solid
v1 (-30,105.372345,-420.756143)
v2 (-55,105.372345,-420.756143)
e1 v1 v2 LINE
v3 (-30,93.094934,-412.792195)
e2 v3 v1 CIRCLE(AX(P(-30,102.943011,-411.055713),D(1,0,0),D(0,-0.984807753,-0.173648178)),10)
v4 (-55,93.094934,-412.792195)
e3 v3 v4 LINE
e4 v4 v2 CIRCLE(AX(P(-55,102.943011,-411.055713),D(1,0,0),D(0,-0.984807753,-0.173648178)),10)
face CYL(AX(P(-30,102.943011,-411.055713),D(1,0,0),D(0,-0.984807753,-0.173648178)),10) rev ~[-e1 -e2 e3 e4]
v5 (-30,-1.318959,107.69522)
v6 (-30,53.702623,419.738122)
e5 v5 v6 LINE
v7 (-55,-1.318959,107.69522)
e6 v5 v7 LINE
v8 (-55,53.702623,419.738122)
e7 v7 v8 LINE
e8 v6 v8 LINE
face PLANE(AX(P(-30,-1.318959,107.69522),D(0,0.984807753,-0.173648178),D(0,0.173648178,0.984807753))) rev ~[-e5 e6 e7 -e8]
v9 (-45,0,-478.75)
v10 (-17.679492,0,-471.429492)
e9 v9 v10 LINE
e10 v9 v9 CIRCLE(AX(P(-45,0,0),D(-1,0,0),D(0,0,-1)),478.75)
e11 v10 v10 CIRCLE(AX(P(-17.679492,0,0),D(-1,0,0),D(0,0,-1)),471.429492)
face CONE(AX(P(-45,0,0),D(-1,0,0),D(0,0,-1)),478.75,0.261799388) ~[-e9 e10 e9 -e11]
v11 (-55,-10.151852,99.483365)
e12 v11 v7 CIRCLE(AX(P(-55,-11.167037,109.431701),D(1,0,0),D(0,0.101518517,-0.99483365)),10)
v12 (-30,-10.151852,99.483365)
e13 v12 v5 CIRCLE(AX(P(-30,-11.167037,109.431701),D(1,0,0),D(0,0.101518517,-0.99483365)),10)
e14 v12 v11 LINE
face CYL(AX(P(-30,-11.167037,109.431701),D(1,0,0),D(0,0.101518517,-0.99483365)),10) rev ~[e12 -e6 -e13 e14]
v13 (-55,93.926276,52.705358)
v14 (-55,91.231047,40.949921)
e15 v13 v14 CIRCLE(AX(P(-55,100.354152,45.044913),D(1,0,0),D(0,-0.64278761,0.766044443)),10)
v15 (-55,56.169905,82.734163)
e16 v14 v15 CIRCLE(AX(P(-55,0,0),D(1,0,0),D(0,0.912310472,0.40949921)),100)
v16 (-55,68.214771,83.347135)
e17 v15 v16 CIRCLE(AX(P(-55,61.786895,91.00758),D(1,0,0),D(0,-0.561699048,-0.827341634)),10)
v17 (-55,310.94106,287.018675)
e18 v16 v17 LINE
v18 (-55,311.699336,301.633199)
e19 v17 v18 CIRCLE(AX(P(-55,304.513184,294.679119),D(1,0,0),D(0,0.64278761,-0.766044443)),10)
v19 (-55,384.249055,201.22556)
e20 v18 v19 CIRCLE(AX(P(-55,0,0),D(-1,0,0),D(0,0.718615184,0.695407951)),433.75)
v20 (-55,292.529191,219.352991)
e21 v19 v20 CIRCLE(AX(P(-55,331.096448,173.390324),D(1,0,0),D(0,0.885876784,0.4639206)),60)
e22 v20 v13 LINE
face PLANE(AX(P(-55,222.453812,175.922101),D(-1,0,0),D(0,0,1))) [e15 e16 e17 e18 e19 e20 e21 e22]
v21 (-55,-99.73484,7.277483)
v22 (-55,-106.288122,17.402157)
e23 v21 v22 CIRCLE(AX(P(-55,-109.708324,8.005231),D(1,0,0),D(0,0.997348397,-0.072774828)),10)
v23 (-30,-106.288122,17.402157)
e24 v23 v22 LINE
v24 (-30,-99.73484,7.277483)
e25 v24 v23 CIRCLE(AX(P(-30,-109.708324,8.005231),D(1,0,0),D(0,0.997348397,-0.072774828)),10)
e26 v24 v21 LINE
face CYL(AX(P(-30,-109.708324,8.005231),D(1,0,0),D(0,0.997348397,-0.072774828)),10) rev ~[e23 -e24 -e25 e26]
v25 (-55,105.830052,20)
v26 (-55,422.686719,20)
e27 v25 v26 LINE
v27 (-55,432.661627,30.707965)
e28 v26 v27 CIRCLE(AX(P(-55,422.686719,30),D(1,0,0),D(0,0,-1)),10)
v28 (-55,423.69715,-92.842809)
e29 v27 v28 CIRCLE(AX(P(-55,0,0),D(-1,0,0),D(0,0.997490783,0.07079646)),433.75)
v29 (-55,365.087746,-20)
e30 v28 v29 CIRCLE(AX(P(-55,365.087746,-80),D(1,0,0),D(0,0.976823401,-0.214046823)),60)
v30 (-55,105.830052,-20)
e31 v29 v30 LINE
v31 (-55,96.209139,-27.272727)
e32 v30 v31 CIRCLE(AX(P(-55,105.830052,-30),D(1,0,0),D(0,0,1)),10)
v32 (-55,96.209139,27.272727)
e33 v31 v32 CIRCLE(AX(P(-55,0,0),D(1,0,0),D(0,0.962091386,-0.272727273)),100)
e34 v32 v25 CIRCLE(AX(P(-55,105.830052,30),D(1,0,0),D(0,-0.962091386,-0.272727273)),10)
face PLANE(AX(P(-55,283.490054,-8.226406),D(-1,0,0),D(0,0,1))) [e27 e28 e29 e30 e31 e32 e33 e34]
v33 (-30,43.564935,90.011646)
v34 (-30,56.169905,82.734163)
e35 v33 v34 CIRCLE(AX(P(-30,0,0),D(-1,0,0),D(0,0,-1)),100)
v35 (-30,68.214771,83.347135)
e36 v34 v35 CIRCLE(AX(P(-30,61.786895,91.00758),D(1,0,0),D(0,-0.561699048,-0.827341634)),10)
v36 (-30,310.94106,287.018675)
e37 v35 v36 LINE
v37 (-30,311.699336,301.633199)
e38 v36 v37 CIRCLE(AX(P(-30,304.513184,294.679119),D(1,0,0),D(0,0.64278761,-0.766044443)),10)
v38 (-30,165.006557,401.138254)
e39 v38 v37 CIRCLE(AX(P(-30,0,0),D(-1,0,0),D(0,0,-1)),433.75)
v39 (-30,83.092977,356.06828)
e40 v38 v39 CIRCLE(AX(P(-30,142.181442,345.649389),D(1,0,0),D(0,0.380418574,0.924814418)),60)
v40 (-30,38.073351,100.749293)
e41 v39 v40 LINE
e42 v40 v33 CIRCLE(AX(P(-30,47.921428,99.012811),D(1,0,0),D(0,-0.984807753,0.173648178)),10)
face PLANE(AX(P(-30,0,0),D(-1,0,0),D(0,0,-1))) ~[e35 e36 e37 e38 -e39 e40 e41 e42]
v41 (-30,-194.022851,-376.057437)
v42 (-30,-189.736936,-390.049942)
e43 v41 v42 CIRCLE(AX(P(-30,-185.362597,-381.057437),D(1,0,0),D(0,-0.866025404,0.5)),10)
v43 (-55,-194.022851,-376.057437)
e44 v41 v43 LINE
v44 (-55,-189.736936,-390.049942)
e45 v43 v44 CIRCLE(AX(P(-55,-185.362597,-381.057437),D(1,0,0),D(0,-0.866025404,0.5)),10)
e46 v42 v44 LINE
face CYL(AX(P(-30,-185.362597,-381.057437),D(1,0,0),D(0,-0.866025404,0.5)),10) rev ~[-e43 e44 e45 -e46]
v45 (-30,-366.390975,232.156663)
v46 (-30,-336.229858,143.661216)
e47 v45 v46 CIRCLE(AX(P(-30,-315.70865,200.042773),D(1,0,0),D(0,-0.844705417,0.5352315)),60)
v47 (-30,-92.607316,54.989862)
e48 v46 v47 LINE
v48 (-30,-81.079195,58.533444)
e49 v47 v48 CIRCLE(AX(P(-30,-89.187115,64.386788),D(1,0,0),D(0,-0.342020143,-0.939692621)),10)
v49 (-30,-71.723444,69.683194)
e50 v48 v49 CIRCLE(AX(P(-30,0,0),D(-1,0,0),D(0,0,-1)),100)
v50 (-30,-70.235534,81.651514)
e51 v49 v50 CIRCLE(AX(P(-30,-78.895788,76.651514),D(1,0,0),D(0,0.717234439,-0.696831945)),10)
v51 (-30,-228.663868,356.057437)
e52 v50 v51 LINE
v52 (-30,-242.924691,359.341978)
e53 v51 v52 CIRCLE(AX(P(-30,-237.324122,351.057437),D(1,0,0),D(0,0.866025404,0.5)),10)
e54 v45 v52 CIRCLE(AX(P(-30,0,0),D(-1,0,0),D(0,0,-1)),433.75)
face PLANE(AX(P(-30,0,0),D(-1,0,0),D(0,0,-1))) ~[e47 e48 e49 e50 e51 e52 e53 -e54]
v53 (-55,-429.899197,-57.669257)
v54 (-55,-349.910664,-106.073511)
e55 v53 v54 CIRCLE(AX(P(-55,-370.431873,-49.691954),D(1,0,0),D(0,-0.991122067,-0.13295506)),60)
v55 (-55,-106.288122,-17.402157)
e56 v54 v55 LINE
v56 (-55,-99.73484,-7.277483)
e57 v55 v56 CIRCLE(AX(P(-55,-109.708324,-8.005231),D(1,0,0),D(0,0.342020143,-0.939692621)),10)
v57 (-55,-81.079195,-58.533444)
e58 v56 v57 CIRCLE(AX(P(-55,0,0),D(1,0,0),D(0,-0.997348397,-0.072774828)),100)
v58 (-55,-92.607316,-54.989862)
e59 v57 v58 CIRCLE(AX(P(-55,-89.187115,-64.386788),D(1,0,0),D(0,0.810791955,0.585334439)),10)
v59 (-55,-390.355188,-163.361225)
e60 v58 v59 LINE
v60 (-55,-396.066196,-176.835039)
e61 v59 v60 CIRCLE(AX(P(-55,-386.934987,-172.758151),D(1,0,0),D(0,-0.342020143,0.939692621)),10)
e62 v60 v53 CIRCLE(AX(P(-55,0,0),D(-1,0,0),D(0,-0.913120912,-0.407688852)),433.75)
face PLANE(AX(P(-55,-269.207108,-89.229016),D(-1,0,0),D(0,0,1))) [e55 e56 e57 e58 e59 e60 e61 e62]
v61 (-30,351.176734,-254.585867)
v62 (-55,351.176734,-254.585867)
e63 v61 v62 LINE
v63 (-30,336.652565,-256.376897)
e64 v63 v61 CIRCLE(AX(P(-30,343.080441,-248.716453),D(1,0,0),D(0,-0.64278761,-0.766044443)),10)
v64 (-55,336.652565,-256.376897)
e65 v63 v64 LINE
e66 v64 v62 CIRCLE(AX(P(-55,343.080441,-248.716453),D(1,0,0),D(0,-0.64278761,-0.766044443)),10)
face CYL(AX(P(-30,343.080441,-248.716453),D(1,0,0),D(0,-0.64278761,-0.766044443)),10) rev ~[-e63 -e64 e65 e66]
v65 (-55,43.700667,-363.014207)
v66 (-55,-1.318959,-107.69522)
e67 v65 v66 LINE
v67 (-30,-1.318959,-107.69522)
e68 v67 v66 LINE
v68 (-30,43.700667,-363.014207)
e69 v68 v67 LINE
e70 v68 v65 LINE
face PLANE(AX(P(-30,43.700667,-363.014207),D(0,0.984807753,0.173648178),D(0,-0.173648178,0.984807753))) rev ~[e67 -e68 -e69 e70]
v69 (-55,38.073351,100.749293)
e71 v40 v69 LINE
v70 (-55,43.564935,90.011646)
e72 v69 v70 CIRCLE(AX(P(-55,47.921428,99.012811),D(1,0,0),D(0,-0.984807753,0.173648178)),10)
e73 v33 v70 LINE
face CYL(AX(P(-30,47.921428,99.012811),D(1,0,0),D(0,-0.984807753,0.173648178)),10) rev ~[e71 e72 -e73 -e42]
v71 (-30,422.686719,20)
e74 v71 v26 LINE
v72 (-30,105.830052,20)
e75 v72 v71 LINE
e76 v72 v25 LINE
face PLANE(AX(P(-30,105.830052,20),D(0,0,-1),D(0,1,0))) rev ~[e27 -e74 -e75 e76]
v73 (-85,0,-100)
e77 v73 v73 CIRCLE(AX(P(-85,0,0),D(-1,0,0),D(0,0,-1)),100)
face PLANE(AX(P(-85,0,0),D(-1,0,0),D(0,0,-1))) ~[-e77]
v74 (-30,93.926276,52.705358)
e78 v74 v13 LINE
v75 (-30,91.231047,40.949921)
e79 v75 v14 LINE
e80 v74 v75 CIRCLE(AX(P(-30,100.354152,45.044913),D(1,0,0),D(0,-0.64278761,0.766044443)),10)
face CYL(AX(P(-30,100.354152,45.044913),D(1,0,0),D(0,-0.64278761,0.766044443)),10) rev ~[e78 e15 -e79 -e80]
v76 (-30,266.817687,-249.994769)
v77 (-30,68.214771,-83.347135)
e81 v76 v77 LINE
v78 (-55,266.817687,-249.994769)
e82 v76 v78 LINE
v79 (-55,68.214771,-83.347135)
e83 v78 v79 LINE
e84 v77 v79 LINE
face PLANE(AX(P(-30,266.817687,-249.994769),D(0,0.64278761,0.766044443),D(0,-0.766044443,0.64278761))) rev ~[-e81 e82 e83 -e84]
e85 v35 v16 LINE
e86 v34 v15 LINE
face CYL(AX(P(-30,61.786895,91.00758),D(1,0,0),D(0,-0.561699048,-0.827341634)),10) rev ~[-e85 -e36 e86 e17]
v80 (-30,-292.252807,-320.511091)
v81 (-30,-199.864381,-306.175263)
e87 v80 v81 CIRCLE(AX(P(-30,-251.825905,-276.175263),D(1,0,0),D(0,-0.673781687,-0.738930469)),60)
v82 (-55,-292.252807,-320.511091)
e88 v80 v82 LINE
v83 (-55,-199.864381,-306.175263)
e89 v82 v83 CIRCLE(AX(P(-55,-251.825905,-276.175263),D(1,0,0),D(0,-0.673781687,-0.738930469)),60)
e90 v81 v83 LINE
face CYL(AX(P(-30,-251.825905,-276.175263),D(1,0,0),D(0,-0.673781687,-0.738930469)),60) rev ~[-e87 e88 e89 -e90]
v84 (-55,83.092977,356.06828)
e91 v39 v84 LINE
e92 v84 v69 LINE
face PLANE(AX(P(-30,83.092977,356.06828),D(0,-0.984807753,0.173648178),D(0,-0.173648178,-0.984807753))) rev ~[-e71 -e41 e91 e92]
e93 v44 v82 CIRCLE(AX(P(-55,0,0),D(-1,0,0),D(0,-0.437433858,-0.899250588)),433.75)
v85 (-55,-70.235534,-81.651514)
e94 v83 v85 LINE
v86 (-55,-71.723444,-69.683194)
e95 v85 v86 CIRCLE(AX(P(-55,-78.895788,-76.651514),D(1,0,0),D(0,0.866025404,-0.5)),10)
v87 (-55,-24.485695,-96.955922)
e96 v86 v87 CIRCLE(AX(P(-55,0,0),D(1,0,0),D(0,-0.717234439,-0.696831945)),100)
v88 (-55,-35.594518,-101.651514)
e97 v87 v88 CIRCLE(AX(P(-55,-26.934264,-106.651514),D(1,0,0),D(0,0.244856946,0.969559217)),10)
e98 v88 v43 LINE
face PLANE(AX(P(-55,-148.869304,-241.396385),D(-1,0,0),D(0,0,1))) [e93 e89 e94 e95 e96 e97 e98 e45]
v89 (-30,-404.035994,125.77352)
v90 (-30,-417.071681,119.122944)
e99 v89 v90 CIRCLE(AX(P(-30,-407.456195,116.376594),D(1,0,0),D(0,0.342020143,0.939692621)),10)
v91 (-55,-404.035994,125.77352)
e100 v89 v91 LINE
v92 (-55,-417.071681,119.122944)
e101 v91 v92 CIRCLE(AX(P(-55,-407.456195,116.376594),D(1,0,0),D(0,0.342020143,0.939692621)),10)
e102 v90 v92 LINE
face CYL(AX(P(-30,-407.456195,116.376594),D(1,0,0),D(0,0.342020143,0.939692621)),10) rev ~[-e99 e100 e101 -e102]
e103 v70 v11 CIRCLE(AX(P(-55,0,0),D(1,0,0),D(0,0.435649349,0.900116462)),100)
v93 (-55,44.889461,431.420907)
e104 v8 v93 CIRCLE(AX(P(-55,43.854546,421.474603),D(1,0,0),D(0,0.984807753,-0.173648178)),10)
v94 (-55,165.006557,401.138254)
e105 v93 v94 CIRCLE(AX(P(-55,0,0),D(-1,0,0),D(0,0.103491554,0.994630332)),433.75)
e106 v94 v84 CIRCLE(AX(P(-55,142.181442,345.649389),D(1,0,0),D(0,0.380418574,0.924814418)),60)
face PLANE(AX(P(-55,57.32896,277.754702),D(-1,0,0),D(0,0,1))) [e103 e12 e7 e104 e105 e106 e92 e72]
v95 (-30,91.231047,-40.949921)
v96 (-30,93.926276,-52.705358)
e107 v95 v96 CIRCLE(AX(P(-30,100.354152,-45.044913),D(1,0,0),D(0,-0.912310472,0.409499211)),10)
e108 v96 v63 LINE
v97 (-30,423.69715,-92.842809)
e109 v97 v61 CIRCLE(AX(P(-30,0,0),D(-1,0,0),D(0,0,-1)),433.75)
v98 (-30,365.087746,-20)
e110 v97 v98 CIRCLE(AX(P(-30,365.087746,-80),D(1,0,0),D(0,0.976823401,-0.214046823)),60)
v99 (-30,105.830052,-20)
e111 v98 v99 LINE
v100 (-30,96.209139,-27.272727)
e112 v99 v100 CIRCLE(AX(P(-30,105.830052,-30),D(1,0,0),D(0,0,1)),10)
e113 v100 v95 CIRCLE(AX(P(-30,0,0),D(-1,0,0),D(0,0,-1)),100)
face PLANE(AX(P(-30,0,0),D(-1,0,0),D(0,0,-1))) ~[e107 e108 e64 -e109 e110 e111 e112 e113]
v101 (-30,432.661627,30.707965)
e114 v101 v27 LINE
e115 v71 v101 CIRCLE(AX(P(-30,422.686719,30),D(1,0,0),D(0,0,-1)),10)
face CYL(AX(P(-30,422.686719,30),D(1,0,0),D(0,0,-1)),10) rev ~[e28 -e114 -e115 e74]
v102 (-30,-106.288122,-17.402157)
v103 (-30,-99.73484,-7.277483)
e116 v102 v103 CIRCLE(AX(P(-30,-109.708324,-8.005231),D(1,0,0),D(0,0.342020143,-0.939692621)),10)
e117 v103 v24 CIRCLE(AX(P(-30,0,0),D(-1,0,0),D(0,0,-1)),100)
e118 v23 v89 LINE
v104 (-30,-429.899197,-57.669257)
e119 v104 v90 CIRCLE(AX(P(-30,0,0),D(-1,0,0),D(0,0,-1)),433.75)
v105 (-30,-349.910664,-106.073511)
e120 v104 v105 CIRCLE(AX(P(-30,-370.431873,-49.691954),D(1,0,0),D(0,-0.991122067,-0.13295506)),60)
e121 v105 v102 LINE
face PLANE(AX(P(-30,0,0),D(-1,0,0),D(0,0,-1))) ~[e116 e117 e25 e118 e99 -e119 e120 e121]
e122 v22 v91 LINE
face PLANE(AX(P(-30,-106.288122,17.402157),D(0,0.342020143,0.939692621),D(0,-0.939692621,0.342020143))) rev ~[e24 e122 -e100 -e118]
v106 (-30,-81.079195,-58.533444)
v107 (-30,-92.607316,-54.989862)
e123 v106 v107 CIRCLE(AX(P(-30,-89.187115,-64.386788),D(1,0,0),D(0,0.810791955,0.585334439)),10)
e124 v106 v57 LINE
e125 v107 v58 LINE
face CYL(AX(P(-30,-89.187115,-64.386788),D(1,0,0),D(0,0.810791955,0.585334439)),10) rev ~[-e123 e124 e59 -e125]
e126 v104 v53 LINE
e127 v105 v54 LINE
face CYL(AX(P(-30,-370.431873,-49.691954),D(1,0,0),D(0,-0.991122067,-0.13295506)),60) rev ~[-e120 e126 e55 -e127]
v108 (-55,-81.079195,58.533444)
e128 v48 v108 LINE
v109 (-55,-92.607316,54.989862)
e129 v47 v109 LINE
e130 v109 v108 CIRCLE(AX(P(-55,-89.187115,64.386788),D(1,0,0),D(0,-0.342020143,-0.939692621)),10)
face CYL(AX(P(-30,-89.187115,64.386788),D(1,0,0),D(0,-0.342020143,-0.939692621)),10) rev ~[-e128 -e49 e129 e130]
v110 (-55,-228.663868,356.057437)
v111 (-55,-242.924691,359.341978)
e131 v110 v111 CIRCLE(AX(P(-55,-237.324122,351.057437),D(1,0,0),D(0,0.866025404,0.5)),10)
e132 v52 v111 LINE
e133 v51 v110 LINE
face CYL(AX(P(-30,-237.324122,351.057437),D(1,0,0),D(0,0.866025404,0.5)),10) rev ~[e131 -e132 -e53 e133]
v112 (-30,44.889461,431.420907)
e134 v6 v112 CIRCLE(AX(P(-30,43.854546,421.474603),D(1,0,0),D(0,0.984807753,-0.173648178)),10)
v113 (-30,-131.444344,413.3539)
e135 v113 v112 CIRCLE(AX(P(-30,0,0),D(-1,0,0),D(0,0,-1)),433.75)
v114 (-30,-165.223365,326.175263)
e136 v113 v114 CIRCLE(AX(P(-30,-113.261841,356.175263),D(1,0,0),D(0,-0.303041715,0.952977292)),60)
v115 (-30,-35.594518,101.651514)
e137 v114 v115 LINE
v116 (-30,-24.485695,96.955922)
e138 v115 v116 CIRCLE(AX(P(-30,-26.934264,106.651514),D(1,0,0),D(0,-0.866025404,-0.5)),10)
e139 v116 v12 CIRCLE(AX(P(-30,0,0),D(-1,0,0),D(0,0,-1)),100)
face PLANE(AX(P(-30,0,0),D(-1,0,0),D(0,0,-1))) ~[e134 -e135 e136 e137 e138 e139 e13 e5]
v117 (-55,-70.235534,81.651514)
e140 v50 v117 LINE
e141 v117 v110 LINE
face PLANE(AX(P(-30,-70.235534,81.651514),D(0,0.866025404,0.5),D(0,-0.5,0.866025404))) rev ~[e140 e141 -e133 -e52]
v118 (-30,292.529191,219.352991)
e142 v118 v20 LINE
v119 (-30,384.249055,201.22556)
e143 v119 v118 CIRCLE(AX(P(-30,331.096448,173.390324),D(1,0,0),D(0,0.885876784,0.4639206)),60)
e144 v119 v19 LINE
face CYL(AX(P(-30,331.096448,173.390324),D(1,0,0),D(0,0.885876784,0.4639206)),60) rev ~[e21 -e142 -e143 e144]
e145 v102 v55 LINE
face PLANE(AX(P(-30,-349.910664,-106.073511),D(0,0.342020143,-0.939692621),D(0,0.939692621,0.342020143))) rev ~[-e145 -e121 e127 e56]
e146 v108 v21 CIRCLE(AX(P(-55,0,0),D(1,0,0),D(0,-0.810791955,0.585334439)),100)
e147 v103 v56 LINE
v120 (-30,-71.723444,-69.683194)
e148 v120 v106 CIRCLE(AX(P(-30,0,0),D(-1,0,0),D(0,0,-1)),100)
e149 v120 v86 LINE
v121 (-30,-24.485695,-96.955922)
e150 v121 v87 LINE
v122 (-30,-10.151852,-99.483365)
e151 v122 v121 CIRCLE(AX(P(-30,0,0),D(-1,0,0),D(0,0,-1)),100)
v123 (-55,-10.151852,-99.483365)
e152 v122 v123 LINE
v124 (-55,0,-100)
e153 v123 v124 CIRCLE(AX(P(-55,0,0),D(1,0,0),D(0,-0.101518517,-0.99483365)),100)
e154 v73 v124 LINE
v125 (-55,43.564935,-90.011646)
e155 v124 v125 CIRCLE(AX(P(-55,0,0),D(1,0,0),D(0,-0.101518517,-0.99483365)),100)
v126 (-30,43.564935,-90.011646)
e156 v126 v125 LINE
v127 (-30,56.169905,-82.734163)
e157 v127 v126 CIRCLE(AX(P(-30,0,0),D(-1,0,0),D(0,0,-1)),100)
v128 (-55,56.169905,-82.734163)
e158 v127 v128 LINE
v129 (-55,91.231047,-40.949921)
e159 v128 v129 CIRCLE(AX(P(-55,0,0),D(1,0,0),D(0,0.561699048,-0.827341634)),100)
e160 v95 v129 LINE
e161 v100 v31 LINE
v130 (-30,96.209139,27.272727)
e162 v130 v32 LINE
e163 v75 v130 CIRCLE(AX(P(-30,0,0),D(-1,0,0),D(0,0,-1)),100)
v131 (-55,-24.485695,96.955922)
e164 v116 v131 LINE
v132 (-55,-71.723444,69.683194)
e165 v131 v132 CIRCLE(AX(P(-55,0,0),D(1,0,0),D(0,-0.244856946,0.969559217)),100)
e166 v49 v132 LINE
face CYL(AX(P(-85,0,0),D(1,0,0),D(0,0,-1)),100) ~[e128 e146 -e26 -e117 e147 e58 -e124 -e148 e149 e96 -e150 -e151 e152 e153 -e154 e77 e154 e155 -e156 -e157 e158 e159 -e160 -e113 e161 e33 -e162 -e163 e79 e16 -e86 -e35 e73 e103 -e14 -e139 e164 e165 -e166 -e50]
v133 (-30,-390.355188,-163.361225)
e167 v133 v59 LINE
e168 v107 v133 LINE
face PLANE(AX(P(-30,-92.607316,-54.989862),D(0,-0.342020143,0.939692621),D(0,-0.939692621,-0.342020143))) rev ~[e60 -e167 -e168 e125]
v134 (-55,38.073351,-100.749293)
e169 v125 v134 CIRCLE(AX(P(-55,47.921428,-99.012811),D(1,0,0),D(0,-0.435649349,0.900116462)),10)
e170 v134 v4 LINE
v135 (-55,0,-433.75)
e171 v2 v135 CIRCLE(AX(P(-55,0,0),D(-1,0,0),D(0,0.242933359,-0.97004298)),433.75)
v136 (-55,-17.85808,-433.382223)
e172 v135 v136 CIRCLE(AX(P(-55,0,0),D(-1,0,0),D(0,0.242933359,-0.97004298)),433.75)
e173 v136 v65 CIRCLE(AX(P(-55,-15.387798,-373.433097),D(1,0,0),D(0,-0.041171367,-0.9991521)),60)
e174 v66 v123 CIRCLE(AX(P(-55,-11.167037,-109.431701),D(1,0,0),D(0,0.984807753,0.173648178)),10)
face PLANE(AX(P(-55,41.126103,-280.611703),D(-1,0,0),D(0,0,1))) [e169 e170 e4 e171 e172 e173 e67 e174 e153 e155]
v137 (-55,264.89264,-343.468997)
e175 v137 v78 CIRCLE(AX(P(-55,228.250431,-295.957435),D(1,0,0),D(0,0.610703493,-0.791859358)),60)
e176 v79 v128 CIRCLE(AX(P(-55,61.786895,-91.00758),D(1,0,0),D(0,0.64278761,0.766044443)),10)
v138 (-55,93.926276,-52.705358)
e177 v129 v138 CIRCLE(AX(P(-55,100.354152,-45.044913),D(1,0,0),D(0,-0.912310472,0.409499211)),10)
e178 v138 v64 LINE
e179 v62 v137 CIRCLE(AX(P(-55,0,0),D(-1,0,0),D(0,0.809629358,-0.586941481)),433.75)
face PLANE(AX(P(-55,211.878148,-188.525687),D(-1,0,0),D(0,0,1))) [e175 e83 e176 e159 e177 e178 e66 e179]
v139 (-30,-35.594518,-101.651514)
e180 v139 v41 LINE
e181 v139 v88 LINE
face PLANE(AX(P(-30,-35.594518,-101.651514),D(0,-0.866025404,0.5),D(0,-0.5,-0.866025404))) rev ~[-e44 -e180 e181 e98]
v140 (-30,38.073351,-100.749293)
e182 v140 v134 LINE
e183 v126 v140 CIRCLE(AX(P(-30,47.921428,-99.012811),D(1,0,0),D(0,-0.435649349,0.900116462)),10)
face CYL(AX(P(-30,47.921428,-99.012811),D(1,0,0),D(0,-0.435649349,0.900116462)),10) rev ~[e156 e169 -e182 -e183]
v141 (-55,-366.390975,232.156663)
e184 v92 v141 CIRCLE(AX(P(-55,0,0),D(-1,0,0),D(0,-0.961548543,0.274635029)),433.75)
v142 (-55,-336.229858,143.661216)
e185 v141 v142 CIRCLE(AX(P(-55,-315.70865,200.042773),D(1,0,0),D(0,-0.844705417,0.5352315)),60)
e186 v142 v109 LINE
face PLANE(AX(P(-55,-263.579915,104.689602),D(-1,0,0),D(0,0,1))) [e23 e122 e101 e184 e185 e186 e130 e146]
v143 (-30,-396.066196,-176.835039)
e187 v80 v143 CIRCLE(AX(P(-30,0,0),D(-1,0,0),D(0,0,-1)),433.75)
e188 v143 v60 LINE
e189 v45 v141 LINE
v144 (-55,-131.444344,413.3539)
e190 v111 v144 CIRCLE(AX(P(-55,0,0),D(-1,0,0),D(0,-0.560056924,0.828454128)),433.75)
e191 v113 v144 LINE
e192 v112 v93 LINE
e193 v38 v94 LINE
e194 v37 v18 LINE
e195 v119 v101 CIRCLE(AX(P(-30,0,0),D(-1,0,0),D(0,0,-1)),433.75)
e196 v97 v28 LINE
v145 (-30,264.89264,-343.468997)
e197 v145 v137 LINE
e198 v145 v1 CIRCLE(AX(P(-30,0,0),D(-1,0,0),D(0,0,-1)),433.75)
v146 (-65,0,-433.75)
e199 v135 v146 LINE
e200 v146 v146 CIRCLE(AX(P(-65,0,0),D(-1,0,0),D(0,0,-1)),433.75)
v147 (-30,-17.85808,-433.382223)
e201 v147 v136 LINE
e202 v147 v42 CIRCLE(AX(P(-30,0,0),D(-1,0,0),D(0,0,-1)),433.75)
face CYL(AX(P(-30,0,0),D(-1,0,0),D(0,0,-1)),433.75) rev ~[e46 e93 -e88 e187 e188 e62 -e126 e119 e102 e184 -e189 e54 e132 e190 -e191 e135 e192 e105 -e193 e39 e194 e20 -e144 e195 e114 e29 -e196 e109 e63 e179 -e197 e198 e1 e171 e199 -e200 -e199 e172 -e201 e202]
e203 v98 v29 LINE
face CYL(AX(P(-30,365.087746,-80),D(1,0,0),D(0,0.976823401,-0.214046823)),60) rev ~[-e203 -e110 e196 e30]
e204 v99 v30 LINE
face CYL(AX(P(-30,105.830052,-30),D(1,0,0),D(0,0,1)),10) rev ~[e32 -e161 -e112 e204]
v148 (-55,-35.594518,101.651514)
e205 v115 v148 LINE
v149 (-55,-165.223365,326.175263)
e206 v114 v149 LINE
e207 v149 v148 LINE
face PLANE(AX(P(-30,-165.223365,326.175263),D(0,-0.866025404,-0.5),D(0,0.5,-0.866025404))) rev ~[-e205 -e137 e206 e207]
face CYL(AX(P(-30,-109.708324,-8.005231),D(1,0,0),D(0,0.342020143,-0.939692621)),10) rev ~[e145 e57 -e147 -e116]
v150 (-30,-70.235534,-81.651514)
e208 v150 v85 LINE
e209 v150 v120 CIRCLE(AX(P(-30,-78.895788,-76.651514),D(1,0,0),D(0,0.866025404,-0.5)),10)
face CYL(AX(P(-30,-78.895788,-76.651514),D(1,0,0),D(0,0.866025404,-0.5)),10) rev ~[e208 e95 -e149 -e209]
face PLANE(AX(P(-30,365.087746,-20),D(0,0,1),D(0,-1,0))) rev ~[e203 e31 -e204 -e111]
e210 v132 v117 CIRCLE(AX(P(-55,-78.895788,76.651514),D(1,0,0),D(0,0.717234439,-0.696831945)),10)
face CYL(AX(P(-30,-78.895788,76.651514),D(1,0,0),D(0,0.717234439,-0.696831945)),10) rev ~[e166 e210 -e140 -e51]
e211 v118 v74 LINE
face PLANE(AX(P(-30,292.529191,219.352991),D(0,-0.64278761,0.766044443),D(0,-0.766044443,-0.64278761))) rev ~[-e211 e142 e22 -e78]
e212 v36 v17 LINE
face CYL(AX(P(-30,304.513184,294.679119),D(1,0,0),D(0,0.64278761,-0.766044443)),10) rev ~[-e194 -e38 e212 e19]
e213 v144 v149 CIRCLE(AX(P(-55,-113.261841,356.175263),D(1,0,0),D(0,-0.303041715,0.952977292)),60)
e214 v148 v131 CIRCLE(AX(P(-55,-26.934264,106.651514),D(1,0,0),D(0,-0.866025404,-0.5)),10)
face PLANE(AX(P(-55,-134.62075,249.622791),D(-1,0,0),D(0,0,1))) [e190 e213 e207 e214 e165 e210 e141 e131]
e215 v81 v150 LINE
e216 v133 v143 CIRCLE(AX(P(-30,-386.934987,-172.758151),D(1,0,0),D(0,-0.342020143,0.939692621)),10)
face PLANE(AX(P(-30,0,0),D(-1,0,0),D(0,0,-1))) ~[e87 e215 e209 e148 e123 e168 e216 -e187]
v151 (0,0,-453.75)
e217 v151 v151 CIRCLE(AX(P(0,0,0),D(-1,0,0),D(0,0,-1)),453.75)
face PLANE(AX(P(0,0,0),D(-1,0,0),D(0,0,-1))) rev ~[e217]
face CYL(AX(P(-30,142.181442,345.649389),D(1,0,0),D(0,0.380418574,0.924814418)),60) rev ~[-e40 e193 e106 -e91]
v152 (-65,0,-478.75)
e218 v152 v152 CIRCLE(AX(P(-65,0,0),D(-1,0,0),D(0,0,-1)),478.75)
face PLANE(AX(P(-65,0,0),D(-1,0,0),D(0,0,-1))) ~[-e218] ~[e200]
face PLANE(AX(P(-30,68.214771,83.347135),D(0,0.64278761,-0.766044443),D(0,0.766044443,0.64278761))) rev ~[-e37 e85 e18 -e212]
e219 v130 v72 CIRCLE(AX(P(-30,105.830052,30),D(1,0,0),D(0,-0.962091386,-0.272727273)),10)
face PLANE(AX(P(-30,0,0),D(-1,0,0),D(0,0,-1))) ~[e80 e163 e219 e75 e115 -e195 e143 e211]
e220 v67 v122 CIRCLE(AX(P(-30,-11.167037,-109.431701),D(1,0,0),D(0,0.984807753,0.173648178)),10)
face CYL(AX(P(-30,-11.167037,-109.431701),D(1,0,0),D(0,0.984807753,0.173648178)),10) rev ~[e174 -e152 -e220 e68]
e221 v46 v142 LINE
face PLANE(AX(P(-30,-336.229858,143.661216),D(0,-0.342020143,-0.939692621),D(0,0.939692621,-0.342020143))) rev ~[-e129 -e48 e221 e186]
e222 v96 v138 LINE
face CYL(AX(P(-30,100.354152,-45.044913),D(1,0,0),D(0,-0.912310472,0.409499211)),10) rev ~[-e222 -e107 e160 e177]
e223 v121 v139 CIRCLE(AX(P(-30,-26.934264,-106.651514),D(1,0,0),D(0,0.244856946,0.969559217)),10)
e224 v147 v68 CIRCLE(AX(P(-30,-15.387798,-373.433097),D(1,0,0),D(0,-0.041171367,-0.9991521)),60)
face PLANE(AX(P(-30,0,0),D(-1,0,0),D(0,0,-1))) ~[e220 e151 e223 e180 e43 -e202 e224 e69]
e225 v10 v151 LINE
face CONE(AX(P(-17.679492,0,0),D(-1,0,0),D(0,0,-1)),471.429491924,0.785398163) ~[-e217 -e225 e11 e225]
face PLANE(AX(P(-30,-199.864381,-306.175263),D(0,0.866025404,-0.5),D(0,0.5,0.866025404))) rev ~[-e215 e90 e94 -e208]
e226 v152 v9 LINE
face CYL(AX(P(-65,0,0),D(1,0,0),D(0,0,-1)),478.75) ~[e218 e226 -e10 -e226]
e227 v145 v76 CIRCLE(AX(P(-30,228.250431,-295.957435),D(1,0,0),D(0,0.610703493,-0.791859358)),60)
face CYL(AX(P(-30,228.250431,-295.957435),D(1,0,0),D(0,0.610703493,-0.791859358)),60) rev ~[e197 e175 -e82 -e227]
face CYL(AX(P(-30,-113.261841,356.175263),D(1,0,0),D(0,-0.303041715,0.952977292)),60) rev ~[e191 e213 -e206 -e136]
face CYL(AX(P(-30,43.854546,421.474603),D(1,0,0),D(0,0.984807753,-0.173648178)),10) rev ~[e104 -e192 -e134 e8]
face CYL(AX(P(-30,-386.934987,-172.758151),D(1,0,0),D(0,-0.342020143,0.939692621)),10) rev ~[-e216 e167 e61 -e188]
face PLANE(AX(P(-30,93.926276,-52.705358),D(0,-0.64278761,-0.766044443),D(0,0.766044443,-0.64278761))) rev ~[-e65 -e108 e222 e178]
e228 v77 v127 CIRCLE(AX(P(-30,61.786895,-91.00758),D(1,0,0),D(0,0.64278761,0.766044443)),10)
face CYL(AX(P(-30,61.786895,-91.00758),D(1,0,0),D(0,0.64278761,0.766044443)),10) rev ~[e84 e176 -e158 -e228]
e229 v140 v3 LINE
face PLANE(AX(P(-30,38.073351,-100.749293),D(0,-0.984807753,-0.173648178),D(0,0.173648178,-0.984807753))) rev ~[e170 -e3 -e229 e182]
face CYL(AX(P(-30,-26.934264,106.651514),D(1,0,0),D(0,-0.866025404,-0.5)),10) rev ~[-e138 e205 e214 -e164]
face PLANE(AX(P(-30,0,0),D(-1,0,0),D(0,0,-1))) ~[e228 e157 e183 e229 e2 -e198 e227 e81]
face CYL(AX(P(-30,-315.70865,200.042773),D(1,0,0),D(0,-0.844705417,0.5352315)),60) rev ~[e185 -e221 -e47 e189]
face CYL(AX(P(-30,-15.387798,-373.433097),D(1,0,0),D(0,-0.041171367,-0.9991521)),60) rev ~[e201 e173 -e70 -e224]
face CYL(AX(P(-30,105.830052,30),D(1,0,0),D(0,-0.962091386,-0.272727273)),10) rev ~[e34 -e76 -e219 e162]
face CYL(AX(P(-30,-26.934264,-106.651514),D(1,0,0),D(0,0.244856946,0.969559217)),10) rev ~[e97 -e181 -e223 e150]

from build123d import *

# Parameters (mm, degrees)
BOSS_EXTRUDE1_DEPTH = 25


with BuildPart() as part:
    # Sketch1 → Revolve1 (revolve)
    with BuildSketch(Plane(origin=(0, 0, 0), x_dir=(1, 0, 0), z_dir=(0, 1, 0))):
        Polygon((-85, 0), (-85, 100), (-30, 100), (-30, 433.75), (-65, 433.75), (-65, 478.75), (-45, 478.75), (-17.679491924, 471.429491924), (0, 453.75), (0, 0), align=None)
    revolve(axis=Axis((0, 0, 0), (-1, 0, 0)))

    # Sketch2 → Boss-Extrude1 (add)
    with BuildSketch(Plane.ZY.offset(30)):
        with BuildLine():
            Line((20, 105.830052443), (20, 422.686719096))
            ThreePointArc((20, 422.686719096), (23.183829742, 430.003810253), (30.707964602, 432.661626921))
            ThreePointArc((30.707964602, 432.661626921), (-31.38909354, 432.612745197), (-92.842809365, 423.697150391))
            ThreePointArc((-92.842809365, 423.697150391), (-42.387293117, 411.834770603), (-20, 365.087746302))
            Line((-20, 365.087746302), (-20, 105.830052443))
            ThreePointArc((-20, 105.830052443), (-22.022759648, 99.799825551), (-27.272727273, 96.209138584))
            ThreePointArc((-27.272727273, 96.209138584), (0, 100), (27.272727273, 96.209138584))
            ThreePointArc((27.272727273, 96.209138584), (22.022759648, 99.799825551), (20, 105.830052443))
        make_face()
        with BuildLine():
            Line((83.347135305, 68.214771395), (287.018674676, 310.94106015))
            ThreePointArc((287.018674676, 310.94106015), (294.160965293, 314.499750862), (301.633198614, 311.699335889))
            ThreePointArc((301.633198614, 311.699335889), (254.032671724, 351.577109888), (201.225560333, 384.24905513))
            ThreePointArc((201.225560333, 384.24905513), (232.25173743, 342.729764327), (219.352990909, 292.529191499))
            Line((219.352990909, 292.529191499), (52.70535758, 93.926275782))
            ThreePointArc((52.70535758, 93.926275782), (47.279678663, 90.60705882), (40.949921045, 91.231047163))
            ThreePointArc((40.949921045, 91.231047163), (64.278760969, 76.604444312), (82.734163396, 56.169904816))
            ThreePointArc((82.734163396, 56.169904816), (81.020503963, 62.295144755), (83.347135305, 68.214771395))
        make_face()
        with BuildLine():
            Line((107.6952197, -1.318959311), (419.738121614, 53.702623435))
            ThreePointArc((419.738121614, 53.702623435), (427.496915948, 51.837762766), (431.420906716, 44.889461442))
            ThreePointArc((431.420906716, 44.889461442), (420.58972663, 106.034637518), (401.138253978, 165.006556522))
            ThreePointArc((401.138253978, 165.006556522), (398.217598843, 113.257692306), (356.068279535, 83.092976894))
            Line((356.068279535, 83.092976894), (100.749292594, 38.073350809))
            ThreePointArc((100.749292594, 38.073350809), (94.459429872, 39.018242282), (90.011646197, 43.564934854))
            ThreePointArc((90.011646197, 43.564934854), (98.480775301, 17.364817767), (99.483364979, -10.151851674))
            ThreePointArc((99.483364979, -10.151851674), (102.107854032, -4.358126605), (107.6952197, -1.318959311))
        make_face()
        with BuildLine():
            Line((81.651513899, -70.235534297), (356.057436579, -228.663867624))
            ThreePointArc((356.057436579, -228.663867624), (360.802308533, -235.07969064), (359.341977855, -242.924690904))
            ThreePointArc((359.341977855, -242.924690904), (390.348174112, -189.122620191), (413.353900432, -131.444343727))
            ThreePointArc((413.353900432, -131.444343727), (377.853020062, -169.208912664), (326.175262908, -165.223365075))
            Line((326.175262908, -165.223365075), (101.651513899, -35.594518146))
            ThreePointArc((101.651513899, -35.594518146), (97.440564044, -30.827643459), (96.955921726, -24.485694643))
            ThreePointArc((96.955921726, -24.485694643), (86.602540378, -50), (69.683194454, -71.723443941))
            ThreePointArc((69.683194454, -71.723443941), (75.417804397, -68.972182092), (81.651513899, -70.235534297))
        make_face()
        with BuildLine():
            Line((17.402157289, -106.288122204), (125.773519831, -404.035993705))
            ThreePointArc((125.773519831, -404.035993705), (125.284291084, -412.000744176), (119.122943915, -417.071680569))
            ThreePointArc((119.122943915, -417.071680569), (177.45837269, -395.787302048), (232.156662956, -366.390974705))
            ThreePointArc((232.156662956, -366.390974705), (180.686813825, -372.500786851), (143.661215732, -336.229858273))
            Line((143.661215732, -336.229858273), (54.98986212, -92.607316471))
            ThreePointArc((54.98986212, -92.607316471), (54.828175369, -86.248932215), (58.533443935, -81.079195489))
            ThreePointArc((58.533443935, -81.079195489), (34.202014333, -93.969262079), (7.277482801, -99.73483967))
            ThreePointArc((7.277482801, -99.73483967), (13.438925908, -101.313387037), (17.402157289, -106.288122204))
        make_face()
        with BuildLine():
            Line((-54.98986212, -92.607316471), (-163.361224663, -390.355187972))
            ThreePointArc((-163.361224663, -390.355187972), (-168.855638543, -396.142070634), (-176.835039387, -396.066195661))
            ThreePointArc((-176.835039387, -396.066195661), (-118.466173544, -417.258706591), (-57.66925725, -429.899196636))
            ThreePointArc((-57.66925725, -429.899196636), (-101.024760711, -401.495402985), (-106.073510901, -349.910664006))
            Line((-106.073510901, -349.910664006), (-17.402157289, -106.288122204))
            ThreePointArc((-17.402157289, -106.288122204), (-13.438925908, -101.313387037), (-7.277482801, -99.73483967))
            ThreePointArc((-7.277482801, -99.73483967), (-34.202014333, -93.969262079), (-58.533443935, -81.079195489))
            ThreePointArc((-58.533443935, -81.079195489), (-54.828175369, -86.248932215), (-54.98986212, -92.607316471))
        make_face()
        with BuildLine():
            Line((-101.651513899, -35.594518146), (-376.057436579, -194.022851472))
            ThreePointArc((-376.057436579, -194.022851472), (-383.986138274, -194.924119613), (-390.049942457, -189.736936017))
            ThreePointArc((-390.049942457, -189.736936017), (-358.959080571, -243.490125006), (-320.511091067, -292.252806664))
            ThreePointArc((-320.511091067, -292.252806664), (-335.465726945, -242.625857938), (-306.175262908, -199.864381227))
            Line((-306.175262908, -199.864381227), (-81.651513899, -70.235534297))
            ThreePointArc((-81.651513899, -70.235534297), (-75.417804397, -68.972182092), (-69.683194454, -71.723443941))
            ThreePointArc((-69.683194454, -71.723443941), (-86.602540378, -50), (-96.955921726, -24.485694643))
            ThreePointArc((-96.955921726, -24.485694643), (-97.440564044, -30.827643459), (-101.651513899, -35.594518146))
        make_face()
        with BuildLine():
            Line((-100.749292594, 38.073350809), (-412.792194508, 93.094933555))
            ThreePointArc((-412.792194508, 93.094933555), (-419.445256376, 97.500993314), (-420.75614253, 105.37234468))
            ThreePointArc((-420.75614253, 105.37234468), (-431.491044414, 44.21019216), (-433.38222329, -17.858080426))
            ThreePointArc((-433.38222329, -17.858080426), (-412.938551255, 29.771022524), (-363.014206641, 43.700666774))
            Line((-363.014206641, 43.700666774), (-107.6952197, -1.318959311))
            ThreePointArc((-107.6952197, -1.318959311), (-102.107854032, -4.358126605), (-99.483364979, -10.151851674))
            ThreePointArc((-99.483364979, -10.151851674), (-98.480775301, 17.364817767), (-90.011646197, 43.564934854))
            ThreePointArc((-90.011646197, 43.564934854), (-94.459429872, 39.018242282), (-100.749292594, 38.073350809))
        make_face()
        with BuildLine():
            Line((-52.70535758, 93.926275782), (-256.376896951, 336.652564537))
            ThreePointArc((-256.376896951, 336.652564537), (-258.641277405, 344.304307868), (-254.585867329, 351.176734218))
            ThreePointArc((-254.585867329, 351.176734218), (-302.123553086, 311.224069073), (-343.468996728, 264.892640114))
            ThreePointArc((-343.468996728, 264.892640114), (-297.192838133, 288.237710679), (-249.994768634, 266.817687112))
            Line((-249.994768634, 266.817687112), (-83.347135305, 68.214771395))
            ThreePointArc((-83.347135305, 68.214771395), (-81.020503963, 62.295144755), (-82.734163396, 56.169904816))
            ThreePointArc((-82.734163396, 56.169904816), (-64.278760969, 76.604444312), (-40.949921045, 91.231047163))
            ThreePointArc((-40.949921045, 91.231047163), (-47.279678663, 90.60705882), (-52.70535758, 93.926275782))
        make_face()
    extrude(amount=BOSS_EXTRUDE1_DEPTH)


solid = part.part
